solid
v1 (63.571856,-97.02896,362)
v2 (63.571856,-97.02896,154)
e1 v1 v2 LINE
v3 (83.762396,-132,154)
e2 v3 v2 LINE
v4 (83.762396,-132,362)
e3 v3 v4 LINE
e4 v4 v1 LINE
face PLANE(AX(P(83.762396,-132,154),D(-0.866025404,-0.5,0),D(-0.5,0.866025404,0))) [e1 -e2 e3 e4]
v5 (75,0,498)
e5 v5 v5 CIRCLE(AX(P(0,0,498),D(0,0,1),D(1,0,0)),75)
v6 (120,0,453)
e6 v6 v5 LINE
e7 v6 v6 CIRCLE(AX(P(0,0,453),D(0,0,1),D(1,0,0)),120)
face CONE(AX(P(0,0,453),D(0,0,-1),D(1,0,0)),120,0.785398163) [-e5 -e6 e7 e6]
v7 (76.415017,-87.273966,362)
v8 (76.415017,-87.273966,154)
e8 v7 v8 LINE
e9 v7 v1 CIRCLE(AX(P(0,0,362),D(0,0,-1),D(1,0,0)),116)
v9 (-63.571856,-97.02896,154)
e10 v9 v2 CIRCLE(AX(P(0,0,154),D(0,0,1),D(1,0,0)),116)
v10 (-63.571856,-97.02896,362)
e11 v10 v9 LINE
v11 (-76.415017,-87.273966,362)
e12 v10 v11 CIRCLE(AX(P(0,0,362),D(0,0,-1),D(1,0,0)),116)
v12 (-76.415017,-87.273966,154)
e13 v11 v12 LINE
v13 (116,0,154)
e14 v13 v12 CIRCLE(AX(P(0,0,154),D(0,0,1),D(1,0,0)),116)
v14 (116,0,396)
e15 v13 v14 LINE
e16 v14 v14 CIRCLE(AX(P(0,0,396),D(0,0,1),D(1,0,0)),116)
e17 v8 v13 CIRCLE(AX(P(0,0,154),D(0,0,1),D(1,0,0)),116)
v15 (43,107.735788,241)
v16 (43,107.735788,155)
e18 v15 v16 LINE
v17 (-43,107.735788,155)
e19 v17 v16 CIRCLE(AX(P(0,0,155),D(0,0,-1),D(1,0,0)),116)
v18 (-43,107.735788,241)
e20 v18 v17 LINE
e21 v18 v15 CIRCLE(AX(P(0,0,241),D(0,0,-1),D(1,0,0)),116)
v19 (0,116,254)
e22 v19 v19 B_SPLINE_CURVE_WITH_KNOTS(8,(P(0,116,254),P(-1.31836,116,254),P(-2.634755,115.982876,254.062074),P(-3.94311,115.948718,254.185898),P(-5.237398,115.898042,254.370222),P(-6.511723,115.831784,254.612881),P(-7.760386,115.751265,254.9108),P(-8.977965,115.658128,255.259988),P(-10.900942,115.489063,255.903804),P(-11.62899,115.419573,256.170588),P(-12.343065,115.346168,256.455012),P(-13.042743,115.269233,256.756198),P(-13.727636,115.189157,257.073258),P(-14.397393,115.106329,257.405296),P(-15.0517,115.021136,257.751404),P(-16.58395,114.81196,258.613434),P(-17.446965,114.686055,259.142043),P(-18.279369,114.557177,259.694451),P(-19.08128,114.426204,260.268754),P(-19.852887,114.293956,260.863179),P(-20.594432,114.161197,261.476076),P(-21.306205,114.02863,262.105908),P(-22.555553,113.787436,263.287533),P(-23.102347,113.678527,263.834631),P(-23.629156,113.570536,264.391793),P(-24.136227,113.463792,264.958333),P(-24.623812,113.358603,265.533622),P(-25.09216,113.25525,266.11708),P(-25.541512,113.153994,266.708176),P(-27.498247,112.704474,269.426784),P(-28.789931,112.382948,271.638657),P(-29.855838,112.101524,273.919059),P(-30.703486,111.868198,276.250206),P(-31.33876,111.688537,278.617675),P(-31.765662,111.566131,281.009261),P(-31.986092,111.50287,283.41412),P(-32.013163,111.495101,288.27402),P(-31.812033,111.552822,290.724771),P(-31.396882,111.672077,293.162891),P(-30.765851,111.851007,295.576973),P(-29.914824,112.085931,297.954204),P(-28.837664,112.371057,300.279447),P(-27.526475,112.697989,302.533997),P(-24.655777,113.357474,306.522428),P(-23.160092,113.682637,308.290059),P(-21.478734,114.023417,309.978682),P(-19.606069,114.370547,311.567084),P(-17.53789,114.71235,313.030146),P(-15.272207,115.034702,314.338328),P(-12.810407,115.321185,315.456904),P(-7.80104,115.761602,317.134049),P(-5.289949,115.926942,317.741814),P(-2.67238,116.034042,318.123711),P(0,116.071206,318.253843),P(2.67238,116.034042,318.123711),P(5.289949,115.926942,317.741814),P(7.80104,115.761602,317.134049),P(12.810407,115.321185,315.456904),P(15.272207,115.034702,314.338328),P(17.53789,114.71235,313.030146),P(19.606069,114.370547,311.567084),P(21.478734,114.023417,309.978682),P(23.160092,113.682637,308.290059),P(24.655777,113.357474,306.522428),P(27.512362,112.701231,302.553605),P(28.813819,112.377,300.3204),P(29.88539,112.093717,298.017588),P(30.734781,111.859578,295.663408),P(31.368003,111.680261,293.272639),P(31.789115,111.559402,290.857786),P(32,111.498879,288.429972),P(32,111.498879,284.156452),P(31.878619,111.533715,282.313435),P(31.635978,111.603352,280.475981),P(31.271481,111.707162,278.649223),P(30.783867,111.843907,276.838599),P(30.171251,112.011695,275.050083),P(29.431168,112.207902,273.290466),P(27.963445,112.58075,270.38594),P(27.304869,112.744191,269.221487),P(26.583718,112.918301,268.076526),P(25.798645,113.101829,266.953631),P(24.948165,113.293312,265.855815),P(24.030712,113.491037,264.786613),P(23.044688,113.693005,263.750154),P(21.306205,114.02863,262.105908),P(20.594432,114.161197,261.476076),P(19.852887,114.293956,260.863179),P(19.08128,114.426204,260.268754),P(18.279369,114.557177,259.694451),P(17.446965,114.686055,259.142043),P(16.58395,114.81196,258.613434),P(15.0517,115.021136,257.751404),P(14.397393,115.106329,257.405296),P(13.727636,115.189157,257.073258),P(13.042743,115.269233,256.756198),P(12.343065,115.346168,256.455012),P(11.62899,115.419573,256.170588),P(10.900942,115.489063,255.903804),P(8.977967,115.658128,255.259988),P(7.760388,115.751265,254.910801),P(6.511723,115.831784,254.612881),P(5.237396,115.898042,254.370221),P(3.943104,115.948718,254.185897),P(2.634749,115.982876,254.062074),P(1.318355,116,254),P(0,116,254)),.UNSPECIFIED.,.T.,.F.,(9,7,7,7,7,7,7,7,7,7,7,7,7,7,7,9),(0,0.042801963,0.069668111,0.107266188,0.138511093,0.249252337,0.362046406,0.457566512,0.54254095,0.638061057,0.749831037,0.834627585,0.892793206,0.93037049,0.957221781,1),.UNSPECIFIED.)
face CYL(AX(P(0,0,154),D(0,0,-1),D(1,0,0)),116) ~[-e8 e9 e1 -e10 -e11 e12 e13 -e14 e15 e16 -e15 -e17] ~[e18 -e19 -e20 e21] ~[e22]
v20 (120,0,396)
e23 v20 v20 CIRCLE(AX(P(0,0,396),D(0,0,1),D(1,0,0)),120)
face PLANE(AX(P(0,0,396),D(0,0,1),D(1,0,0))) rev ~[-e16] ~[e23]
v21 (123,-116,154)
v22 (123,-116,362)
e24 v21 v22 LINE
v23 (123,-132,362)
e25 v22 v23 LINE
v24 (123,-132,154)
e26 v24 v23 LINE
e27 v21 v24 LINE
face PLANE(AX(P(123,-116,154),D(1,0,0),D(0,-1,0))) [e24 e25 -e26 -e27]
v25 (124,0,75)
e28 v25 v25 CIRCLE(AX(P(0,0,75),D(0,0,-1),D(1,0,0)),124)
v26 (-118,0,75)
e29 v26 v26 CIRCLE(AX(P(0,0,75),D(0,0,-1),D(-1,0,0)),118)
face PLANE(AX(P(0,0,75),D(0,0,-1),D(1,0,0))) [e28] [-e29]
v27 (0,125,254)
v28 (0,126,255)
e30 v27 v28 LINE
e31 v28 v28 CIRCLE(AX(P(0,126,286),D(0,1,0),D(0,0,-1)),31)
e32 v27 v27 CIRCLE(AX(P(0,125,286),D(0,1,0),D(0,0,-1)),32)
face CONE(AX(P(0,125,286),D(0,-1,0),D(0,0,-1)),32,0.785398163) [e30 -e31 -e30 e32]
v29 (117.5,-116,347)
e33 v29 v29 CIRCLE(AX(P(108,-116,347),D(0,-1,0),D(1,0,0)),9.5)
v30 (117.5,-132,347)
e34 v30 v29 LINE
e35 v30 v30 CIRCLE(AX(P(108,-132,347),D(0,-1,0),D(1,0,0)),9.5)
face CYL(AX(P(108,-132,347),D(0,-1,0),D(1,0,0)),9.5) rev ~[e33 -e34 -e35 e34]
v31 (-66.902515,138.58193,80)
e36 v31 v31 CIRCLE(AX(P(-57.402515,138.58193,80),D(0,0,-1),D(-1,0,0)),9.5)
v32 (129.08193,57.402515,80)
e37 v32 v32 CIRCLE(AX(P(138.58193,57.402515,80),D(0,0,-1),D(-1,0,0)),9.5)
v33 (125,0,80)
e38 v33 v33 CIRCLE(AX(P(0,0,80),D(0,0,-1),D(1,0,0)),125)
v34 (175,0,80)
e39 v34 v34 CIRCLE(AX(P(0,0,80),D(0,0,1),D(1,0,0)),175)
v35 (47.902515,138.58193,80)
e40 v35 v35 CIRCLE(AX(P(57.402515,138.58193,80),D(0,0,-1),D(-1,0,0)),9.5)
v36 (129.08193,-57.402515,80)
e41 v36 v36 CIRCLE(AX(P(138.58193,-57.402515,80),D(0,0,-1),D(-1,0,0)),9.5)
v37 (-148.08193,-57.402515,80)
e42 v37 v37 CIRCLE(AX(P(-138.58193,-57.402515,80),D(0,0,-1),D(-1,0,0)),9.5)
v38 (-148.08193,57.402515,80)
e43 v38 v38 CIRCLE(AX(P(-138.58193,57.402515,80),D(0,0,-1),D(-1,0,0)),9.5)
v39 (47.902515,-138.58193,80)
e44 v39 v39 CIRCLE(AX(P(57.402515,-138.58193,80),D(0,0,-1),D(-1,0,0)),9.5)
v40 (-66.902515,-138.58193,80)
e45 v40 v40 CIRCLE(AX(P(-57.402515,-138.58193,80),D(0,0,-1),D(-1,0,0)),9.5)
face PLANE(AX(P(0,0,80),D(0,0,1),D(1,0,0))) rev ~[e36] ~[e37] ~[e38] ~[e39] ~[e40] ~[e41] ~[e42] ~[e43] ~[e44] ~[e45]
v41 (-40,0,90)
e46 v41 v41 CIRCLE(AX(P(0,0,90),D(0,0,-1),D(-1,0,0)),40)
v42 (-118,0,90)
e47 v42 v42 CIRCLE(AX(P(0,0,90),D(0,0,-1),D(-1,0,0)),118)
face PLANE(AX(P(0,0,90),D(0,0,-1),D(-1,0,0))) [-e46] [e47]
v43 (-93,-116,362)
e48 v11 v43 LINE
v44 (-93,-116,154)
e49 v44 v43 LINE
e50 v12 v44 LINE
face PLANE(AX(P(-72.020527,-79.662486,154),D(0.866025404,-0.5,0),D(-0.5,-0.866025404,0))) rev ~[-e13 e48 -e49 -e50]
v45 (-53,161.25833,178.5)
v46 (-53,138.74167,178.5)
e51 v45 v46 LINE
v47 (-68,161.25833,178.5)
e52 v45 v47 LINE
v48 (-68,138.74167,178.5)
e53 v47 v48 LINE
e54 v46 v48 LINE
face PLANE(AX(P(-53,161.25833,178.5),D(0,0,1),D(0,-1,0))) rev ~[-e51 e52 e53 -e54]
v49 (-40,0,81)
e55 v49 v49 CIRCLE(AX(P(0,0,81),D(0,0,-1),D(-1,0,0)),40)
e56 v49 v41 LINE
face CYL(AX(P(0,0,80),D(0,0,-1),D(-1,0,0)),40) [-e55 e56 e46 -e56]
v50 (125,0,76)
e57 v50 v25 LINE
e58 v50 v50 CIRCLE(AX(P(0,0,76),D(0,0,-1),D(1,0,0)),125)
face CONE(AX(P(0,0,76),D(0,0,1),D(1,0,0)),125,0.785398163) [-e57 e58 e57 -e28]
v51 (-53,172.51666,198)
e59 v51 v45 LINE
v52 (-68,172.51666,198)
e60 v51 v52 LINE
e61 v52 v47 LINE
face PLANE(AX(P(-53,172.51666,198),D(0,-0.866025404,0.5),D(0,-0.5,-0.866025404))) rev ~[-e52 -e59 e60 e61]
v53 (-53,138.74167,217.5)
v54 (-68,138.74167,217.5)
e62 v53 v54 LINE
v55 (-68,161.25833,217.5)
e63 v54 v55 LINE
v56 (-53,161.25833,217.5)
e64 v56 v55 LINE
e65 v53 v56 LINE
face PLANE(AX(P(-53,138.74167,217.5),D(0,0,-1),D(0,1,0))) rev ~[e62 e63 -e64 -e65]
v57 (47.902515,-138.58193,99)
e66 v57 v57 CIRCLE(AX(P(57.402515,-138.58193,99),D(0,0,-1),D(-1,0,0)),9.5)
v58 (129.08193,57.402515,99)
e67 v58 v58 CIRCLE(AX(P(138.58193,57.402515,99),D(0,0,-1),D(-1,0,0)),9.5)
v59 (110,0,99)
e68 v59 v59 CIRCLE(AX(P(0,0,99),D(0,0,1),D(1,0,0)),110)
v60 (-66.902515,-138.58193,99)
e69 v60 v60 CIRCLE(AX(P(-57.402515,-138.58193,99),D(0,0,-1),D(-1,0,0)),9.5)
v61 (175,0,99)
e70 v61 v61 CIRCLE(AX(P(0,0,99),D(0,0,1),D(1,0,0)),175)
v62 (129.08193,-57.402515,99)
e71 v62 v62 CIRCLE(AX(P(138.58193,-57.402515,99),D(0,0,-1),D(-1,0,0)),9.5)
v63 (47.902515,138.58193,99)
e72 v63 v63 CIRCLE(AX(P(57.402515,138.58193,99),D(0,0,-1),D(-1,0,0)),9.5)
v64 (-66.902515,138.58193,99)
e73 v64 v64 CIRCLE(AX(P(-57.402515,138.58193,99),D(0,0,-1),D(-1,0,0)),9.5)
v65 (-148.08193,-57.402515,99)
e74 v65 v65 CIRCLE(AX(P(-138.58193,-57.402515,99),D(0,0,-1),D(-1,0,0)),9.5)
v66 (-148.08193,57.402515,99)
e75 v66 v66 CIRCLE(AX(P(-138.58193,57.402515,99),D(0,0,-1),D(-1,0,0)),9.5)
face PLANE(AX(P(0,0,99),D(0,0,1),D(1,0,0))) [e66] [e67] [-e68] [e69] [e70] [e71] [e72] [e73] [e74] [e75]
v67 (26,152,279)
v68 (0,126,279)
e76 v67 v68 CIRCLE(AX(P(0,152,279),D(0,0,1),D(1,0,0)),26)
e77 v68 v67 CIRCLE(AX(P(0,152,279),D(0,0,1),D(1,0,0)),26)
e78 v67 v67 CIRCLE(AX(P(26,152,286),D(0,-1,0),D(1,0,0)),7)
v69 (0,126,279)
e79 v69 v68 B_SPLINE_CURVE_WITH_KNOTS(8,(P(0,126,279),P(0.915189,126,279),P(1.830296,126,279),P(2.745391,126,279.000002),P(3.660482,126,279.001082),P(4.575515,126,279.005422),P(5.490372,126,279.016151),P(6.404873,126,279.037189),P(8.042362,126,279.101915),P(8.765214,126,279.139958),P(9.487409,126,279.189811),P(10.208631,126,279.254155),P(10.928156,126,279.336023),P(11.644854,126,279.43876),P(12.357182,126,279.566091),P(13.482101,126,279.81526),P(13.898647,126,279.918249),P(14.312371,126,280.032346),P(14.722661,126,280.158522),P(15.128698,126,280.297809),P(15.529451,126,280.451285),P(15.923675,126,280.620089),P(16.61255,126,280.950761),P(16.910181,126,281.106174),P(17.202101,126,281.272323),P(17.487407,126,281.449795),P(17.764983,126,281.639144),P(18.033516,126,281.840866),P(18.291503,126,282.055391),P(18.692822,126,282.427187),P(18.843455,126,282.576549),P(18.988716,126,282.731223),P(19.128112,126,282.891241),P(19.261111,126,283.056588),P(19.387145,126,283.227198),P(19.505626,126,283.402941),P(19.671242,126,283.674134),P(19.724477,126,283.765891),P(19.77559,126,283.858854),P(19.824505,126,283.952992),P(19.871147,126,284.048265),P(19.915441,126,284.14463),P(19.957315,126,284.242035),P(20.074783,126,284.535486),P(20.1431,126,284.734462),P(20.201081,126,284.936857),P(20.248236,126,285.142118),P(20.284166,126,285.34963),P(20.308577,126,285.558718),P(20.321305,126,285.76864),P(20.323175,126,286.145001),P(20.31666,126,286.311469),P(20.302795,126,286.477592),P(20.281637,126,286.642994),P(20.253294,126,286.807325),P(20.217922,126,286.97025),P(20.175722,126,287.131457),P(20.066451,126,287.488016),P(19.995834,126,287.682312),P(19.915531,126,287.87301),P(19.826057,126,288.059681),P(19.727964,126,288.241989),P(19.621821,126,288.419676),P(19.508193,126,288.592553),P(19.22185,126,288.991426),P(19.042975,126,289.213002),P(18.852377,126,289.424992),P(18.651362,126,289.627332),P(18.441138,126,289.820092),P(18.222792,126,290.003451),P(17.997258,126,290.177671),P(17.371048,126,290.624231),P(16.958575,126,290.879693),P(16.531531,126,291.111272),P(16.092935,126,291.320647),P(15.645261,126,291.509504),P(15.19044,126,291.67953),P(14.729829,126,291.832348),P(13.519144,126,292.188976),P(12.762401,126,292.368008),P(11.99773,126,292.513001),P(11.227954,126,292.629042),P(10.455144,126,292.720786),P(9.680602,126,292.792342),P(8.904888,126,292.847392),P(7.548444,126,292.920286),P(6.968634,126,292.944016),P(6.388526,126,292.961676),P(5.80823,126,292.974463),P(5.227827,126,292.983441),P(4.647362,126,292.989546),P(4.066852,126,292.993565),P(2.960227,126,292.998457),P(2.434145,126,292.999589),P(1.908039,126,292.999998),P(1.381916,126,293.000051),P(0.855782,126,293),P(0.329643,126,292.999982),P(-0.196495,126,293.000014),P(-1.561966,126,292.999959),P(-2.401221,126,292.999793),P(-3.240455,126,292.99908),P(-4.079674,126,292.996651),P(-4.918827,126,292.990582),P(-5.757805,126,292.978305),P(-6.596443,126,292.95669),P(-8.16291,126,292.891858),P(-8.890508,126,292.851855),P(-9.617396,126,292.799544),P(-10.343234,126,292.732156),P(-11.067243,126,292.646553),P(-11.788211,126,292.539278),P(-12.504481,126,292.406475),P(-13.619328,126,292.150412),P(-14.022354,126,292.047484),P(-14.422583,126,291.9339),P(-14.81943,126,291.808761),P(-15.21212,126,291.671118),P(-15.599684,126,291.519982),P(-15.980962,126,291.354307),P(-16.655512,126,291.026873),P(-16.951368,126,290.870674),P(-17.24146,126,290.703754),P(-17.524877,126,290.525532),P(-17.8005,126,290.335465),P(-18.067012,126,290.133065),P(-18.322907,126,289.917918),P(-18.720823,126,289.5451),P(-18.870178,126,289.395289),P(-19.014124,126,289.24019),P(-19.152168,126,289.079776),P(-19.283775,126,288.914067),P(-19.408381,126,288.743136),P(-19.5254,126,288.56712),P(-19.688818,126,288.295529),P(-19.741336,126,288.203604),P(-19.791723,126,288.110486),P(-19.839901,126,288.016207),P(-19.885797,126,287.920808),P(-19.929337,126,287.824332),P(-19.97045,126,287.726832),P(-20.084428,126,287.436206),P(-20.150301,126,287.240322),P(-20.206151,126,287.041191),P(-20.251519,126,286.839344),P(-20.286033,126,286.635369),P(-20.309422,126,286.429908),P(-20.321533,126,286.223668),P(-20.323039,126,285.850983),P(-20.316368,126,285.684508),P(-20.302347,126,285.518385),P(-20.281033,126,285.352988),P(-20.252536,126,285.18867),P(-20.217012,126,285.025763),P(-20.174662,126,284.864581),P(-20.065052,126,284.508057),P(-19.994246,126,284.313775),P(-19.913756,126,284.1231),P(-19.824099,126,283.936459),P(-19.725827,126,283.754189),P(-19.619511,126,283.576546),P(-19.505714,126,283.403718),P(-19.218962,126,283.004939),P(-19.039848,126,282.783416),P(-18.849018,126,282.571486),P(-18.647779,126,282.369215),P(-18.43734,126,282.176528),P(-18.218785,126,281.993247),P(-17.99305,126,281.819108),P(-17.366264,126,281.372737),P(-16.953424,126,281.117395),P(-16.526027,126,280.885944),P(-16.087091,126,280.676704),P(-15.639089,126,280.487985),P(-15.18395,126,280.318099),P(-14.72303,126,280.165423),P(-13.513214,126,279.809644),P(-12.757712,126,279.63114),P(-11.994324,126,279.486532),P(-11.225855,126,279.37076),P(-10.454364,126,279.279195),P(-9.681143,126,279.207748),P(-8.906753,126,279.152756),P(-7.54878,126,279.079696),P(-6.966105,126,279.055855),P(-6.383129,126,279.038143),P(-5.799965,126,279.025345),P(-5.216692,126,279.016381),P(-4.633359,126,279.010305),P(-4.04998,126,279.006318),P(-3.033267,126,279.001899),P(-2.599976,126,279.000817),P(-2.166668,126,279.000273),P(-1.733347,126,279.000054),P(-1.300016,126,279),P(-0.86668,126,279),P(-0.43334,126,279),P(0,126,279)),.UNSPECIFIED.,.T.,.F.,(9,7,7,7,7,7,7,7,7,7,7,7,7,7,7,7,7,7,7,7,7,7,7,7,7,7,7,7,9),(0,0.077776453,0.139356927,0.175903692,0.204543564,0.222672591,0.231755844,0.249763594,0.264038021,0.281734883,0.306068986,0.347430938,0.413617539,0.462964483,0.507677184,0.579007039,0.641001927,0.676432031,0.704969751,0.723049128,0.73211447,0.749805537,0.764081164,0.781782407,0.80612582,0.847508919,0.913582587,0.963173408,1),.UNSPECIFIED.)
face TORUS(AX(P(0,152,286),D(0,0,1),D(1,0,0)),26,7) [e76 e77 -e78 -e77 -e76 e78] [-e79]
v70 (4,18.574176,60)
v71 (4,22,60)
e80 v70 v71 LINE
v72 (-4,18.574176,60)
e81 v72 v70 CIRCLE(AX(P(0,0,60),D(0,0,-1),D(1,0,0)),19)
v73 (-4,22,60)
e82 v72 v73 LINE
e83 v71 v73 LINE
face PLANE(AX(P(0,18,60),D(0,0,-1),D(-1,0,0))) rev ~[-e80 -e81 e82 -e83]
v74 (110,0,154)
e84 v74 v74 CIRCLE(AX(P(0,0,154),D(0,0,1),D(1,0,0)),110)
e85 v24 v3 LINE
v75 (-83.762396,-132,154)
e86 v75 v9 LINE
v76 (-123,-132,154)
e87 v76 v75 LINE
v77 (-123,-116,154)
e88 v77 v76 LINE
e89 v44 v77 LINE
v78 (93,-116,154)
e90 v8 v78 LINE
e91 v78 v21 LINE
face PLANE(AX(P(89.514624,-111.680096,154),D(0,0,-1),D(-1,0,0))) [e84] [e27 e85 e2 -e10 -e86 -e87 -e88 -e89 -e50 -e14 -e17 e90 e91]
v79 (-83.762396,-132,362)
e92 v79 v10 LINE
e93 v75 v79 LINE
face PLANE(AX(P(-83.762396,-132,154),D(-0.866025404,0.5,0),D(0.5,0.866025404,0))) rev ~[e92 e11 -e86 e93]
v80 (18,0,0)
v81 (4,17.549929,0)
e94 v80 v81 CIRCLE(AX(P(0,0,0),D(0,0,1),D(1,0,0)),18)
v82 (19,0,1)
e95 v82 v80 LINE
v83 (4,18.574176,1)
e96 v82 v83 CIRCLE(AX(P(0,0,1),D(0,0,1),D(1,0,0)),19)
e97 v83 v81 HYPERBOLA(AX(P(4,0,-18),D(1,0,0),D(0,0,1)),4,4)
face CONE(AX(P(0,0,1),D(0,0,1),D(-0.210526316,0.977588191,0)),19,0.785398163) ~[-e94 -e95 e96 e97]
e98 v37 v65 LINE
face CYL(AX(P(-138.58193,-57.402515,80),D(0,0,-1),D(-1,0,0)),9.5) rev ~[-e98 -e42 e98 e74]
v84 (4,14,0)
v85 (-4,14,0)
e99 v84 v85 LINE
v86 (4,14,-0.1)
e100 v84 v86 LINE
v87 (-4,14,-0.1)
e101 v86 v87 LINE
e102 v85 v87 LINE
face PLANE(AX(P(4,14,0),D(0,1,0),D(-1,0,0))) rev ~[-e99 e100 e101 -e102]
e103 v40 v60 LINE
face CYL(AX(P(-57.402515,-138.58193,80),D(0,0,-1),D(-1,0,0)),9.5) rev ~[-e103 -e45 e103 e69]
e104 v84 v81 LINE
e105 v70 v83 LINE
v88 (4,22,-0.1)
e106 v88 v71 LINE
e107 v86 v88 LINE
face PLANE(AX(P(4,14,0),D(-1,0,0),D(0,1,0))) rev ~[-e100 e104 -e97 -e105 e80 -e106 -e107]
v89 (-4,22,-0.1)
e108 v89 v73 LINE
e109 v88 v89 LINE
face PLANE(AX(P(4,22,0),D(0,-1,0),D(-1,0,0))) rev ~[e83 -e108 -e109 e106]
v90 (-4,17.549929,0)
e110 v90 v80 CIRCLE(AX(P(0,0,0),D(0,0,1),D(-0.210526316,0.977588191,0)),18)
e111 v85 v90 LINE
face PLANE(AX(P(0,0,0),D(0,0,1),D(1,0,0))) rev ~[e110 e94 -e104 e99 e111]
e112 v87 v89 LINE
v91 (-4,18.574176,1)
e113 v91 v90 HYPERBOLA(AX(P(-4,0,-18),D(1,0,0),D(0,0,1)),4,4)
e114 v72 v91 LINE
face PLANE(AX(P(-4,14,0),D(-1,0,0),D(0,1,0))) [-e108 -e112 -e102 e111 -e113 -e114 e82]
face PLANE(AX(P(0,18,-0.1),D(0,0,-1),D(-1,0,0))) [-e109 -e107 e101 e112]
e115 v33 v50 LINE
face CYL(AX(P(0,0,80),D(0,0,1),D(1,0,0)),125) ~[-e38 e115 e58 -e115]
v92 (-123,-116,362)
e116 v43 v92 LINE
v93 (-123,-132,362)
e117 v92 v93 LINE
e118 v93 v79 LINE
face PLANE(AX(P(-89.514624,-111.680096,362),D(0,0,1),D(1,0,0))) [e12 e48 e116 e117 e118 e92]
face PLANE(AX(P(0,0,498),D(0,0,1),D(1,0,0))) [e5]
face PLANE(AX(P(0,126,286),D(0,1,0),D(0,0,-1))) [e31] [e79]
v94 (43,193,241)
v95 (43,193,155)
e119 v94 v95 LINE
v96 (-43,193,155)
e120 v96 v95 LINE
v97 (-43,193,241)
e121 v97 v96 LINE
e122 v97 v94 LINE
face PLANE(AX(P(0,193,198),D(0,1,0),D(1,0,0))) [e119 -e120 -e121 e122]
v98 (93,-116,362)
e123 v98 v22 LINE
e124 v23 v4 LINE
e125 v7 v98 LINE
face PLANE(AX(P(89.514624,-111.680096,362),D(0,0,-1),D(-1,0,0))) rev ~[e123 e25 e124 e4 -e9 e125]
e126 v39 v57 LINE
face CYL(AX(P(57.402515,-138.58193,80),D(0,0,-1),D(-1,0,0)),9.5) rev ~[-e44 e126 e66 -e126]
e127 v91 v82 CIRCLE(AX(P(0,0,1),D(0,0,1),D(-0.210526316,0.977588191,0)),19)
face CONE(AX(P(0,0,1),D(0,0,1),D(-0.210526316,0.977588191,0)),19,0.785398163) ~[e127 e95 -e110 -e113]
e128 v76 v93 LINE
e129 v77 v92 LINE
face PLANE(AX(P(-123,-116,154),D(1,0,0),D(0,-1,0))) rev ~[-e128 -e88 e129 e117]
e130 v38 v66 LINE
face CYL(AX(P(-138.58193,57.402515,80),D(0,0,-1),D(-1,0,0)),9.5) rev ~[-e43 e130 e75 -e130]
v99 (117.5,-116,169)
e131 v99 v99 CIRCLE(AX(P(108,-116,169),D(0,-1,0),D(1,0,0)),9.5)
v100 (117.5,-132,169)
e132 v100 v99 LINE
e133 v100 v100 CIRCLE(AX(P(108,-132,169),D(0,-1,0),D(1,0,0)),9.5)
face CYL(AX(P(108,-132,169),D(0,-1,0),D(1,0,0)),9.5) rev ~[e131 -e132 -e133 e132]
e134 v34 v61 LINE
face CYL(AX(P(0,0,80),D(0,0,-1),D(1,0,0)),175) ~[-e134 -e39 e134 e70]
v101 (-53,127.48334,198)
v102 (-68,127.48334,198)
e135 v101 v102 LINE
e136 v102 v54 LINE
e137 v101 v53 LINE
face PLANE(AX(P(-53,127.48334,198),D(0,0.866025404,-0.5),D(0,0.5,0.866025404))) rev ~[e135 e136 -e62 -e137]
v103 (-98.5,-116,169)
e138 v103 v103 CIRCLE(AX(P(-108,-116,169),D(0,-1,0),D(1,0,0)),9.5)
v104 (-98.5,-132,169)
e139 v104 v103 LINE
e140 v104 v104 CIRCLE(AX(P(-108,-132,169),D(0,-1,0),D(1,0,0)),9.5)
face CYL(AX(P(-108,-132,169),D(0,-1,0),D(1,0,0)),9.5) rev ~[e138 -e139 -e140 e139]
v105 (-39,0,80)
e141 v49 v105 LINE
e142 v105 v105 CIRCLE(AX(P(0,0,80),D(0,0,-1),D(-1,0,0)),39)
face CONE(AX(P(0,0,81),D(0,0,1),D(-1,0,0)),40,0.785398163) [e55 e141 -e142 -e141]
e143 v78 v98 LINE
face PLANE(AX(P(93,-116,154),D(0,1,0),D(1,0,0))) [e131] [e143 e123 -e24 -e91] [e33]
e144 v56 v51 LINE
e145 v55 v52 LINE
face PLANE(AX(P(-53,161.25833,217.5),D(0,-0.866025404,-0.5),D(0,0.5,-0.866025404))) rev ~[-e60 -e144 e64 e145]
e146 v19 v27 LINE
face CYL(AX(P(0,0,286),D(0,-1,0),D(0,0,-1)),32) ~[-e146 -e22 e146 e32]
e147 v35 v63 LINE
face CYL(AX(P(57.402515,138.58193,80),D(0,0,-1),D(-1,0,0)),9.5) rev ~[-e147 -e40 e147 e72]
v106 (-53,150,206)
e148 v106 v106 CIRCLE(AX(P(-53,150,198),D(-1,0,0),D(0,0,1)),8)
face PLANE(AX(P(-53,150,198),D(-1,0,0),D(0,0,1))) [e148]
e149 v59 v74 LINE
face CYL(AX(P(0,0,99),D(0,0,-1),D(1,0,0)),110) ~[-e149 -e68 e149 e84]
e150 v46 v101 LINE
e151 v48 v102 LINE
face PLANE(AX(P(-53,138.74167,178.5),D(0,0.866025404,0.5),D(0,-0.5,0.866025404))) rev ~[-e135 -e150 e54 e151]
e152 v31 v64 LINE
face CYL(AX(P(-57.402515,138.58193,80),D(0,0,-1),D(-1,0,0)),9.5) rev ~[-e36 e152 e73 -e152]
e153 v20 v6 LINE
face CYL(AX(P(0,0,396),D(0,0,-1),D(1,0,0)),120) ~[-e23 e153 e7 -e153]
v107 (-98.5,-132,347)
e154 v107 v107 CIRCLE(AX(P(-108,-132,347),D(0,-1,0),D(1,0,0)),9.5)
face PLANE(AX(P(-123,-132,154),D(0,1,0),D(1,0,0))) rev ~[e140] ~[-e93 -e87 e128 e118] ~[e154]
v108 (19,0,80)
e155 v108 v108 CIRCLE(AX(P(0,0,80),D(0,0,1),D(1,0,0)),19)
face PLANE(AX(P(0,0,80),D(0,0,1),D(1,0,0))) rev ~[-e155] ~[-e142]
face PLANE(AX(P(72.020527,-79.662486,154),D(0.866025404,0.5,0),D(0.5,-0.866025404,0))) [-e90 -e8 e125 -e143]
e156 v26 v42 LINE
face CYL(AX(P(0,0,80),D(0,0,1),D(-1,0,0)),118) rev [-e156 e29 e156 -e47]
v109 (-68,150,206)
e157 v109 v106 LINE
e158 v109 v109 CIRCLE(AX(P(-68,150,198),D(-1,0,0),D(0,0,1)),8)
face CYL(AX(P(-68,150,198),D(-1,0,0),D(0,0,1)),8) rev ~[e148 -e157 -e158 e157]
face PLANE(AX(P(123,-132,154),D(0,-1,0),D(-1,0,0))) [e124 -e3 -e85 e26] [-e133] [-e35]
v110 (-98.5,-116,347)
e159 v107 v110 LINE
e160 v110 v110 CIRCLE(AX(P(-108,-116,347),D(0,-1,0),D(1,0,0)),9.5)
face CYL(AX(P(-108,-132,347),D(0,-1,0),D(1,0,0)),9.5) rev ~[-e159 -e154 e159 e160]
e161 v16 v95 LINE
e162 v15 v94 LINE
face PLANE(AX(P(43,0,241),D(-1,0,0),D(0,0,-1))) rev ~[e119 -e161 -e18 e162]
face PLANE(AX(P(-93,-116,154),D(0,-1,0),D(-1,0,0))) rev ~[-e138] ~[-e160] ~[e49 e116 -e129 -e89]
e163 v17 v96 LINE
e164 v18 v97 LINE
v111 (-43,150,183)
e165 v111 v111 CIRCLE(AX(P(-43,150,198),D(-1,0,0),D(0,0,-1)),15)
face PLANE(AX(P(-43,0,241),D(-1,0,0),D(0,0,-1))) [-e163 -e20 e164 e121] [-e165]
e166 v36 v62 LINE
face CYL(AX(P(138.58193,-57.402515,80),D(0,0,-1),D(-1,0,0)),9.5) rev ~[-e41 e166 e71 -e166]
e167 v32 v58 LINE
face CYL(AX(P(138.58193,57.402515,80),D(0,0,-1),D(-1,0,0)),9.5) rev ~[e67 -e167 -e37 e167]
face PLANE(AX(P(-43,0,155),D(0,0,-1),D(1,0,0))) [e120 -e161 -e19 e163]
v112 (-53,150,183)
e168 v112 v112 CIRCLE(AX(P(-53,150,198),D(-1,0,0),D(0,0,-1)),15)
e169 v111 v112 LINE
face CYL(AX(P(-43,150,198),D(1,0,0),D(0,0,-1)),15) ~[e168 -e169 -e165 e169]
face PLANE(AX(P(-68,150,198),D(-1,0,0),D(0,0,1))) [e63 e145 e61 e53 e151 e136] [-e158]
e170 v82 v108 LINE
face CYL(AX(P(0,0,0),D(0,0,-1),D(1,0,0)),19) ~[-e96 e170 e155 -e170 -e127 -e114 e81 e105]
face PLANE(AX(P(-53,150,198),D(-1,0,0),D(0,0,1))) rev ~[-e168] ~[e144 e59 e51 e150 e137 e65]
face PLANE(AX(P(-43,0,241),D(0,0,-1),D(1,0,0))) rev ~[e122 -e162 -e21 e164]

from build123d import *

# Parameters (mm, degrees)
SKETCH_1_R           = 19
EXTRUDE_1_DEPTH      = 80
SKETCH_2_W           = 8
SKETCH_2_H           = 8
EXTRUDE_2_DEPTH      = 0.1
EXTRUDE_2_DEPTH_BACK = 60
SKETCH_3_R           = 175
EXTRUDE_3_DEPTH      = 19
SKETCH_4_R           = 125
SKETCH_4_R_2         = 118
EXTRUDE_4_DEPTH      = 5
SKETCH_5_R           = 118
SKETCH_5_R_2         = 40
CUT_EXTRUDE_1_DEPTH  = 10
CHAMFER_1_SIZE       = 1
SKETCH_6_R           = 9.5
CUT_EXTRUDE_2_DEPTH  = 20
SKETCH_7_R           = 110
EXTRUDE_5_DEPTH      = 55
SKETCH_8_R           = 116
EXTRUDE_6_DEPTH      = 242
SKETCH_9_R           = 120
EXTRUDE_7_DEPTH      = 102
CHAMFER_2_SIZE       = 45
EXTRUDE_8_DEPTH      = 208
CUT_EXTRUDE_3_REACH  = 309
SKETCH_11_R          = 9.5
SKETCH_12_W          = 86
SKETCH_12_H          = 86
EXTRUDE_9_DEPTH      = 193
SKETCH_13_R          = 32
EXTRUDE_10_DEPTH     = 126
CHAMFER_3_SIZE       = 1
SKETCH_15_R          = 7
SKETCH_16_R          = 15
EXTRUDE_11_DEPTH     = 10
EXTRUDE_12_DEPTH     = 15
SKETCH_18_R          = 8
CUT_EXTRUDE_4_DEPTH  = 15


with BuildPart() as part:
    # Эскиз1 → Вытянуть1 (new body)
    with BuildSketch(Plane.XY):
        Circle(SKETCH_1_R)
    extrude(amount=EXTRUDE_1_DEPTH)

    # Эскиз2 → Вытянуть2 (add, two sides)
    with BuildSketch(Plane(origin=(0, 0, 0), x_dir=(-1, 0, 0), z_dir=(0, 0, -1))) as extrude_2_sk:
        with Locations((0, 18)):
            Rectangle(SKETCH_2_W, SKETCH_2_H)
    extrude(amount=EXTRUDE_2_DEPTH)
    extrude(extrude_2_sk.sketch, amount=-EXTRUDE_2_DEPTH_BACK)

    # Эскиз3 → Вытянуть3 (add)
    with BuildSketch(Plane.XY.offset(80)):
        Circle(SKETCH_3_R)
    extrude(amount=EXTRUDE_3_DEPTH)

    # Эскиз4 → Вытянуть4 (add)
    with BuildSketch(Plane(origin=(0, 0, 80), x_dir=(-1, 0, 0), z_dir=(0, 0, -1))):
        with Locations(Location((0, 0, 0), (0, 0, 180))):  # turned: the seam where the file's is
            Circle(SKETCH_4_R)
        Circle(SKETCH_4_R_2, mode=Mode.SUBTRACT)
    extrude(amount=EXTRUDE_4_DEPTH)

    # Эскиз5 → Вырез-Вытянуть1 (cut)
    with BuildSketch(Plane(origin=(0, 0, 80), x_dir=(-1, 0, 0), z_dir=(0, 0, -1))):
        Circle(SKETCH_5_R)
        Circle(SKETCH_5_R_2, mode=Mode.SUBTRACT)
    extrude(amount=-CUT_EXTRUDE_1_DEPTH, mode=Mode.SUBTRACT)

    # Фаска1
    chamfer_1_edges = [part.edges().sort_by_distance(p)[0] for p in [
        (-125, 0, 75),
        (40, 0, 80),
        (-11.937336386, -14.781745499, 0),
    ]]
    chamfer(chamfer_1_edges, length=CHAMFER_1_SIZE)

    # Эскиз6 → Вырез-Вытянуть2 (cut, through all)
    with BuildSketch(Plane(origin=(0, 0, 80), x_dir=(-1, 0, 0), z_dir=(0, 0, -1))):
        with Locations((-57.402514855, 138.581929877)):
            Circle(SKETCH_6_R)
        with Locations((57.402514855, 138.581929877)):
            Circle(SKETCH_6_R)
        with Locations((138.581929877, 57.402514855)):
            Circle(SKETCH_6_R)
        with Locations((138.581929877, -57.402514855)):
            Circle(SKETCH_6_R)
        with Locations((57.402514855, -138.581929877)):
            Circle(SKETCH_6_R)
        with Locations((-57.402514855, -138.581929877)):
            Circle(SKETCH_6_R)
        with Locations((-138.581929877, -57.402514855)):
            Circle(SKETCH_6_R)
        with Locations((-138.581929877, 57.402514855)):
            Circle(SKETCH_6_R)
    extrude(amount=-CUT_EXTRUDE_2_DEPTH, mode=Mode.SUBTRACT)

    # Эскиз7 → Вытянуть5 (add)
    with BuildSketch(Plane.XY.offset(99)):
        Circle(SKETCH_7_R)
    extrude(amount=EXTRUDE_5_DEPTH)

    # Эскиз8 → Вытянуть6 (add)
    with BuildSketch(Plane.XY.offset(154)):
        Circle(SKETCH_8_R)
    extrude(amount=EXTRUDE_6_DEPTH)

    # Эскиз9 → Вытянуть7 (add)
    with BuildSketch(Plane.XY.offset(396)):
        Circle(SKETCH_9_R)
    extrude(amount=EXTRUDE_7_DEPTH)

    # Фаска2
    chamfer_2_edges = [part.edges().sort_by_distance(p)[0] for p in [
        (-120, 0, 498),
    ]]
    chamfer(chamfer_2_edges, length=CHAMFER_2_SIZE)

    # Эскиз10 → Вытянуть8 (add)
    with BuildSketch(Plane(origin=(0, 0, 154), x_dir=(-1, 0, 0), z_dir=(0, 0, -1))):
        Polygon((-123, -132), (-83.762395693, -132), (-58.16412012, -87.662486121), (-72.020526581, -79.662486121), (-93, -116), (-123, -116), align=None)
        Polygon((123, -132), (83.762395693, -132), (58.16412012, -87.662486121), (72.020526581, -79.662486121), (93, -116), (123, -116), align=None)
    extrude(amount=-EXTRUDE_8_DEPTH)

    # Эскиз11 → Вырез-Вытянуть3 (cut, up to next)
    with BuildSketch(Plane.XZ.offset(132), mode=Mode.PRIVATE) as cut_extrude_3_sk1:
        with Locations((-108, 169)):
            Circle(SKETCH_11_R)
    cut_extrude_3_tool1 = extrude(cut_extrude_3_sk1.sketch, amount=-CUT_EXTRUDE_3_REACH, mode=Mode.PRIVATE) & part.part
    add(cut_extrude_3_tool1.solids().sort_by_distance((-108, -132, 169))[0], mode=Mode.SUBTRACT)
    # Эскиз11 → Вырез-Вытянуть3 (cut, up to next)
    with BuildSketch(Plane.XZ.offset(132), mode=Mode.PRIVATE) as cut_extrude_3_sk2:
        with Locations((108, 169)):
            Circle(SKETCH_11_R)
    cut_extrude_3_tool2 = extrude(cut_extrude_3_sk2.sketch, amount=-CUT_EXTRUDE_3_REACH, mode=Mode.PRIVATE) & part.part
    add(cut_extrude_3_tool2.solids().sort_by_distance((108, -132, 169))[0], mode=Mode.SUBTRACT)
    # Эскиз11 → Вырез-Вытянуть3 (cut, up to next)
    with BuildSketch(Plane.XZ.offset(132), mode=Mode.PRIVATE) as cut_extrude_3_sk3:
        with Locations((-108, 347)):
            Circle(SKETCH_11_R)
    cut_extrude_3_tool3 = extrude(cut_extrude_3_sk3.sketch, amount=-CUT_EXTRUDE_3_REACH, mode=Mode.PRIVATE) & part.part
    add(cut_extrude_3_tool3.solids().sort_by_distance((-108, -132, 347))[0], mode=Mode.SUBTRACT)
    # Эскиз11 → Вырез-Вытянуть3 (cut, up to next)
    with BuildSketch(Plane.XZ.offset(132), mode=Mode.PRIVATE) as cut_extrude_3_sk4:
        with Locations((108, 347)):
            Circle(SKETCH_11_R)
    cut_extrude_3_tool4 = extrude(cut_extrude_3_sk4.sketch, amount=-CUT_EXTRUDE_3_REACH, mode=Mode.PRIVATE) & part.part
    add(cut_extrude_3_tool4.solids().sort_by_distance((108, -132, 347))[0], mode=Mode.SUBTRACT)

    # Эскиз12 → Вытянуть9 (add)
    with BuildSketch(Plane(origin=(0, 0, 0), x_dir=(1, 0, 0), z_dir=(0, 1, 0))):
        with Locations((0, -198)):
            Rectangle(SKETCH_12_W, SKETCH_12_H)
    extrude(amount=EXTRUDE_9_DEPTH)

    # Эскиз13 → Вытянуть10 (add)
    with BuildSketch(Plane(origin=(0, 0, 0), x_dir=(1, 0, 0), z_dir=(0, 1, 0))):
        with Locations(Location((0, -286, 0), (0, 0, 90))):  # turned: the seam where the file's is
            Circle(SKETCH_13_R)
    extrude(amount=EXTRUDE_10_DEPTH)

    # Фаска3
    chamfer_3_edges = [part.edges().sort_by_distance(p)[0] for p in [
        (0, 126, 318),
    ]]
    chamfer(chamfer_3_edges, length=CHAMFER_3_SIZE)

    # По траектории1: sweep along a path in Эскиз14
    with BuildLine(Plane.XY.offset(286)) as sweep_1_path:
        CenterArc((0, 152), 26, 0, 360)
    # Эскиз15 → По траектории1 (sweep)
    with BuildSketch(Plane(origin=(0, 0, 0), x_dir=(0, 0, -1), z_dir=(1, 0, 0))):
        with Locations((-286, 178)):
            Circle(SKETCH_15_R)
    sweep(path=sweep_1_path.line)

    # Эскиз16 → Вытянуть11 (add)
    with BuildSketch(Plane.ZY.offset(43)):
        with Locations(Location((198, 150, 0), (0, 0, 180))):  # turned: the seam where the file's is
            Circle(SKETCH_16_R)
    extrude(amount=EXTRUDE_11_DEPTH)

    # Эскиз17 → Вытянуть12 (add)
    with BuildSketch(Plane.ZY.offset(53)):
        Polygon((198, 172.516660498), (178.5, 161.258330249), (178.5, 138.741669751), (198, 127.483339502), (217.5, 138.741669751), (217.5, 161.258330249), align=None)
    extrude(amount=EXTRUDE_12_DEPTH)

    # Эскиз18 → Вырез-Вытянуть4 (cut)
    with BuildSketch(Plane.ZY.offset(68)):
        with Locations((198, 150)):
            Circle(SKETCH_18_R)
    extrude(amount=-CUT_EXTRUDE_4_DEPTH, mode=Mode.SUBTRACT)


solid = part.part
